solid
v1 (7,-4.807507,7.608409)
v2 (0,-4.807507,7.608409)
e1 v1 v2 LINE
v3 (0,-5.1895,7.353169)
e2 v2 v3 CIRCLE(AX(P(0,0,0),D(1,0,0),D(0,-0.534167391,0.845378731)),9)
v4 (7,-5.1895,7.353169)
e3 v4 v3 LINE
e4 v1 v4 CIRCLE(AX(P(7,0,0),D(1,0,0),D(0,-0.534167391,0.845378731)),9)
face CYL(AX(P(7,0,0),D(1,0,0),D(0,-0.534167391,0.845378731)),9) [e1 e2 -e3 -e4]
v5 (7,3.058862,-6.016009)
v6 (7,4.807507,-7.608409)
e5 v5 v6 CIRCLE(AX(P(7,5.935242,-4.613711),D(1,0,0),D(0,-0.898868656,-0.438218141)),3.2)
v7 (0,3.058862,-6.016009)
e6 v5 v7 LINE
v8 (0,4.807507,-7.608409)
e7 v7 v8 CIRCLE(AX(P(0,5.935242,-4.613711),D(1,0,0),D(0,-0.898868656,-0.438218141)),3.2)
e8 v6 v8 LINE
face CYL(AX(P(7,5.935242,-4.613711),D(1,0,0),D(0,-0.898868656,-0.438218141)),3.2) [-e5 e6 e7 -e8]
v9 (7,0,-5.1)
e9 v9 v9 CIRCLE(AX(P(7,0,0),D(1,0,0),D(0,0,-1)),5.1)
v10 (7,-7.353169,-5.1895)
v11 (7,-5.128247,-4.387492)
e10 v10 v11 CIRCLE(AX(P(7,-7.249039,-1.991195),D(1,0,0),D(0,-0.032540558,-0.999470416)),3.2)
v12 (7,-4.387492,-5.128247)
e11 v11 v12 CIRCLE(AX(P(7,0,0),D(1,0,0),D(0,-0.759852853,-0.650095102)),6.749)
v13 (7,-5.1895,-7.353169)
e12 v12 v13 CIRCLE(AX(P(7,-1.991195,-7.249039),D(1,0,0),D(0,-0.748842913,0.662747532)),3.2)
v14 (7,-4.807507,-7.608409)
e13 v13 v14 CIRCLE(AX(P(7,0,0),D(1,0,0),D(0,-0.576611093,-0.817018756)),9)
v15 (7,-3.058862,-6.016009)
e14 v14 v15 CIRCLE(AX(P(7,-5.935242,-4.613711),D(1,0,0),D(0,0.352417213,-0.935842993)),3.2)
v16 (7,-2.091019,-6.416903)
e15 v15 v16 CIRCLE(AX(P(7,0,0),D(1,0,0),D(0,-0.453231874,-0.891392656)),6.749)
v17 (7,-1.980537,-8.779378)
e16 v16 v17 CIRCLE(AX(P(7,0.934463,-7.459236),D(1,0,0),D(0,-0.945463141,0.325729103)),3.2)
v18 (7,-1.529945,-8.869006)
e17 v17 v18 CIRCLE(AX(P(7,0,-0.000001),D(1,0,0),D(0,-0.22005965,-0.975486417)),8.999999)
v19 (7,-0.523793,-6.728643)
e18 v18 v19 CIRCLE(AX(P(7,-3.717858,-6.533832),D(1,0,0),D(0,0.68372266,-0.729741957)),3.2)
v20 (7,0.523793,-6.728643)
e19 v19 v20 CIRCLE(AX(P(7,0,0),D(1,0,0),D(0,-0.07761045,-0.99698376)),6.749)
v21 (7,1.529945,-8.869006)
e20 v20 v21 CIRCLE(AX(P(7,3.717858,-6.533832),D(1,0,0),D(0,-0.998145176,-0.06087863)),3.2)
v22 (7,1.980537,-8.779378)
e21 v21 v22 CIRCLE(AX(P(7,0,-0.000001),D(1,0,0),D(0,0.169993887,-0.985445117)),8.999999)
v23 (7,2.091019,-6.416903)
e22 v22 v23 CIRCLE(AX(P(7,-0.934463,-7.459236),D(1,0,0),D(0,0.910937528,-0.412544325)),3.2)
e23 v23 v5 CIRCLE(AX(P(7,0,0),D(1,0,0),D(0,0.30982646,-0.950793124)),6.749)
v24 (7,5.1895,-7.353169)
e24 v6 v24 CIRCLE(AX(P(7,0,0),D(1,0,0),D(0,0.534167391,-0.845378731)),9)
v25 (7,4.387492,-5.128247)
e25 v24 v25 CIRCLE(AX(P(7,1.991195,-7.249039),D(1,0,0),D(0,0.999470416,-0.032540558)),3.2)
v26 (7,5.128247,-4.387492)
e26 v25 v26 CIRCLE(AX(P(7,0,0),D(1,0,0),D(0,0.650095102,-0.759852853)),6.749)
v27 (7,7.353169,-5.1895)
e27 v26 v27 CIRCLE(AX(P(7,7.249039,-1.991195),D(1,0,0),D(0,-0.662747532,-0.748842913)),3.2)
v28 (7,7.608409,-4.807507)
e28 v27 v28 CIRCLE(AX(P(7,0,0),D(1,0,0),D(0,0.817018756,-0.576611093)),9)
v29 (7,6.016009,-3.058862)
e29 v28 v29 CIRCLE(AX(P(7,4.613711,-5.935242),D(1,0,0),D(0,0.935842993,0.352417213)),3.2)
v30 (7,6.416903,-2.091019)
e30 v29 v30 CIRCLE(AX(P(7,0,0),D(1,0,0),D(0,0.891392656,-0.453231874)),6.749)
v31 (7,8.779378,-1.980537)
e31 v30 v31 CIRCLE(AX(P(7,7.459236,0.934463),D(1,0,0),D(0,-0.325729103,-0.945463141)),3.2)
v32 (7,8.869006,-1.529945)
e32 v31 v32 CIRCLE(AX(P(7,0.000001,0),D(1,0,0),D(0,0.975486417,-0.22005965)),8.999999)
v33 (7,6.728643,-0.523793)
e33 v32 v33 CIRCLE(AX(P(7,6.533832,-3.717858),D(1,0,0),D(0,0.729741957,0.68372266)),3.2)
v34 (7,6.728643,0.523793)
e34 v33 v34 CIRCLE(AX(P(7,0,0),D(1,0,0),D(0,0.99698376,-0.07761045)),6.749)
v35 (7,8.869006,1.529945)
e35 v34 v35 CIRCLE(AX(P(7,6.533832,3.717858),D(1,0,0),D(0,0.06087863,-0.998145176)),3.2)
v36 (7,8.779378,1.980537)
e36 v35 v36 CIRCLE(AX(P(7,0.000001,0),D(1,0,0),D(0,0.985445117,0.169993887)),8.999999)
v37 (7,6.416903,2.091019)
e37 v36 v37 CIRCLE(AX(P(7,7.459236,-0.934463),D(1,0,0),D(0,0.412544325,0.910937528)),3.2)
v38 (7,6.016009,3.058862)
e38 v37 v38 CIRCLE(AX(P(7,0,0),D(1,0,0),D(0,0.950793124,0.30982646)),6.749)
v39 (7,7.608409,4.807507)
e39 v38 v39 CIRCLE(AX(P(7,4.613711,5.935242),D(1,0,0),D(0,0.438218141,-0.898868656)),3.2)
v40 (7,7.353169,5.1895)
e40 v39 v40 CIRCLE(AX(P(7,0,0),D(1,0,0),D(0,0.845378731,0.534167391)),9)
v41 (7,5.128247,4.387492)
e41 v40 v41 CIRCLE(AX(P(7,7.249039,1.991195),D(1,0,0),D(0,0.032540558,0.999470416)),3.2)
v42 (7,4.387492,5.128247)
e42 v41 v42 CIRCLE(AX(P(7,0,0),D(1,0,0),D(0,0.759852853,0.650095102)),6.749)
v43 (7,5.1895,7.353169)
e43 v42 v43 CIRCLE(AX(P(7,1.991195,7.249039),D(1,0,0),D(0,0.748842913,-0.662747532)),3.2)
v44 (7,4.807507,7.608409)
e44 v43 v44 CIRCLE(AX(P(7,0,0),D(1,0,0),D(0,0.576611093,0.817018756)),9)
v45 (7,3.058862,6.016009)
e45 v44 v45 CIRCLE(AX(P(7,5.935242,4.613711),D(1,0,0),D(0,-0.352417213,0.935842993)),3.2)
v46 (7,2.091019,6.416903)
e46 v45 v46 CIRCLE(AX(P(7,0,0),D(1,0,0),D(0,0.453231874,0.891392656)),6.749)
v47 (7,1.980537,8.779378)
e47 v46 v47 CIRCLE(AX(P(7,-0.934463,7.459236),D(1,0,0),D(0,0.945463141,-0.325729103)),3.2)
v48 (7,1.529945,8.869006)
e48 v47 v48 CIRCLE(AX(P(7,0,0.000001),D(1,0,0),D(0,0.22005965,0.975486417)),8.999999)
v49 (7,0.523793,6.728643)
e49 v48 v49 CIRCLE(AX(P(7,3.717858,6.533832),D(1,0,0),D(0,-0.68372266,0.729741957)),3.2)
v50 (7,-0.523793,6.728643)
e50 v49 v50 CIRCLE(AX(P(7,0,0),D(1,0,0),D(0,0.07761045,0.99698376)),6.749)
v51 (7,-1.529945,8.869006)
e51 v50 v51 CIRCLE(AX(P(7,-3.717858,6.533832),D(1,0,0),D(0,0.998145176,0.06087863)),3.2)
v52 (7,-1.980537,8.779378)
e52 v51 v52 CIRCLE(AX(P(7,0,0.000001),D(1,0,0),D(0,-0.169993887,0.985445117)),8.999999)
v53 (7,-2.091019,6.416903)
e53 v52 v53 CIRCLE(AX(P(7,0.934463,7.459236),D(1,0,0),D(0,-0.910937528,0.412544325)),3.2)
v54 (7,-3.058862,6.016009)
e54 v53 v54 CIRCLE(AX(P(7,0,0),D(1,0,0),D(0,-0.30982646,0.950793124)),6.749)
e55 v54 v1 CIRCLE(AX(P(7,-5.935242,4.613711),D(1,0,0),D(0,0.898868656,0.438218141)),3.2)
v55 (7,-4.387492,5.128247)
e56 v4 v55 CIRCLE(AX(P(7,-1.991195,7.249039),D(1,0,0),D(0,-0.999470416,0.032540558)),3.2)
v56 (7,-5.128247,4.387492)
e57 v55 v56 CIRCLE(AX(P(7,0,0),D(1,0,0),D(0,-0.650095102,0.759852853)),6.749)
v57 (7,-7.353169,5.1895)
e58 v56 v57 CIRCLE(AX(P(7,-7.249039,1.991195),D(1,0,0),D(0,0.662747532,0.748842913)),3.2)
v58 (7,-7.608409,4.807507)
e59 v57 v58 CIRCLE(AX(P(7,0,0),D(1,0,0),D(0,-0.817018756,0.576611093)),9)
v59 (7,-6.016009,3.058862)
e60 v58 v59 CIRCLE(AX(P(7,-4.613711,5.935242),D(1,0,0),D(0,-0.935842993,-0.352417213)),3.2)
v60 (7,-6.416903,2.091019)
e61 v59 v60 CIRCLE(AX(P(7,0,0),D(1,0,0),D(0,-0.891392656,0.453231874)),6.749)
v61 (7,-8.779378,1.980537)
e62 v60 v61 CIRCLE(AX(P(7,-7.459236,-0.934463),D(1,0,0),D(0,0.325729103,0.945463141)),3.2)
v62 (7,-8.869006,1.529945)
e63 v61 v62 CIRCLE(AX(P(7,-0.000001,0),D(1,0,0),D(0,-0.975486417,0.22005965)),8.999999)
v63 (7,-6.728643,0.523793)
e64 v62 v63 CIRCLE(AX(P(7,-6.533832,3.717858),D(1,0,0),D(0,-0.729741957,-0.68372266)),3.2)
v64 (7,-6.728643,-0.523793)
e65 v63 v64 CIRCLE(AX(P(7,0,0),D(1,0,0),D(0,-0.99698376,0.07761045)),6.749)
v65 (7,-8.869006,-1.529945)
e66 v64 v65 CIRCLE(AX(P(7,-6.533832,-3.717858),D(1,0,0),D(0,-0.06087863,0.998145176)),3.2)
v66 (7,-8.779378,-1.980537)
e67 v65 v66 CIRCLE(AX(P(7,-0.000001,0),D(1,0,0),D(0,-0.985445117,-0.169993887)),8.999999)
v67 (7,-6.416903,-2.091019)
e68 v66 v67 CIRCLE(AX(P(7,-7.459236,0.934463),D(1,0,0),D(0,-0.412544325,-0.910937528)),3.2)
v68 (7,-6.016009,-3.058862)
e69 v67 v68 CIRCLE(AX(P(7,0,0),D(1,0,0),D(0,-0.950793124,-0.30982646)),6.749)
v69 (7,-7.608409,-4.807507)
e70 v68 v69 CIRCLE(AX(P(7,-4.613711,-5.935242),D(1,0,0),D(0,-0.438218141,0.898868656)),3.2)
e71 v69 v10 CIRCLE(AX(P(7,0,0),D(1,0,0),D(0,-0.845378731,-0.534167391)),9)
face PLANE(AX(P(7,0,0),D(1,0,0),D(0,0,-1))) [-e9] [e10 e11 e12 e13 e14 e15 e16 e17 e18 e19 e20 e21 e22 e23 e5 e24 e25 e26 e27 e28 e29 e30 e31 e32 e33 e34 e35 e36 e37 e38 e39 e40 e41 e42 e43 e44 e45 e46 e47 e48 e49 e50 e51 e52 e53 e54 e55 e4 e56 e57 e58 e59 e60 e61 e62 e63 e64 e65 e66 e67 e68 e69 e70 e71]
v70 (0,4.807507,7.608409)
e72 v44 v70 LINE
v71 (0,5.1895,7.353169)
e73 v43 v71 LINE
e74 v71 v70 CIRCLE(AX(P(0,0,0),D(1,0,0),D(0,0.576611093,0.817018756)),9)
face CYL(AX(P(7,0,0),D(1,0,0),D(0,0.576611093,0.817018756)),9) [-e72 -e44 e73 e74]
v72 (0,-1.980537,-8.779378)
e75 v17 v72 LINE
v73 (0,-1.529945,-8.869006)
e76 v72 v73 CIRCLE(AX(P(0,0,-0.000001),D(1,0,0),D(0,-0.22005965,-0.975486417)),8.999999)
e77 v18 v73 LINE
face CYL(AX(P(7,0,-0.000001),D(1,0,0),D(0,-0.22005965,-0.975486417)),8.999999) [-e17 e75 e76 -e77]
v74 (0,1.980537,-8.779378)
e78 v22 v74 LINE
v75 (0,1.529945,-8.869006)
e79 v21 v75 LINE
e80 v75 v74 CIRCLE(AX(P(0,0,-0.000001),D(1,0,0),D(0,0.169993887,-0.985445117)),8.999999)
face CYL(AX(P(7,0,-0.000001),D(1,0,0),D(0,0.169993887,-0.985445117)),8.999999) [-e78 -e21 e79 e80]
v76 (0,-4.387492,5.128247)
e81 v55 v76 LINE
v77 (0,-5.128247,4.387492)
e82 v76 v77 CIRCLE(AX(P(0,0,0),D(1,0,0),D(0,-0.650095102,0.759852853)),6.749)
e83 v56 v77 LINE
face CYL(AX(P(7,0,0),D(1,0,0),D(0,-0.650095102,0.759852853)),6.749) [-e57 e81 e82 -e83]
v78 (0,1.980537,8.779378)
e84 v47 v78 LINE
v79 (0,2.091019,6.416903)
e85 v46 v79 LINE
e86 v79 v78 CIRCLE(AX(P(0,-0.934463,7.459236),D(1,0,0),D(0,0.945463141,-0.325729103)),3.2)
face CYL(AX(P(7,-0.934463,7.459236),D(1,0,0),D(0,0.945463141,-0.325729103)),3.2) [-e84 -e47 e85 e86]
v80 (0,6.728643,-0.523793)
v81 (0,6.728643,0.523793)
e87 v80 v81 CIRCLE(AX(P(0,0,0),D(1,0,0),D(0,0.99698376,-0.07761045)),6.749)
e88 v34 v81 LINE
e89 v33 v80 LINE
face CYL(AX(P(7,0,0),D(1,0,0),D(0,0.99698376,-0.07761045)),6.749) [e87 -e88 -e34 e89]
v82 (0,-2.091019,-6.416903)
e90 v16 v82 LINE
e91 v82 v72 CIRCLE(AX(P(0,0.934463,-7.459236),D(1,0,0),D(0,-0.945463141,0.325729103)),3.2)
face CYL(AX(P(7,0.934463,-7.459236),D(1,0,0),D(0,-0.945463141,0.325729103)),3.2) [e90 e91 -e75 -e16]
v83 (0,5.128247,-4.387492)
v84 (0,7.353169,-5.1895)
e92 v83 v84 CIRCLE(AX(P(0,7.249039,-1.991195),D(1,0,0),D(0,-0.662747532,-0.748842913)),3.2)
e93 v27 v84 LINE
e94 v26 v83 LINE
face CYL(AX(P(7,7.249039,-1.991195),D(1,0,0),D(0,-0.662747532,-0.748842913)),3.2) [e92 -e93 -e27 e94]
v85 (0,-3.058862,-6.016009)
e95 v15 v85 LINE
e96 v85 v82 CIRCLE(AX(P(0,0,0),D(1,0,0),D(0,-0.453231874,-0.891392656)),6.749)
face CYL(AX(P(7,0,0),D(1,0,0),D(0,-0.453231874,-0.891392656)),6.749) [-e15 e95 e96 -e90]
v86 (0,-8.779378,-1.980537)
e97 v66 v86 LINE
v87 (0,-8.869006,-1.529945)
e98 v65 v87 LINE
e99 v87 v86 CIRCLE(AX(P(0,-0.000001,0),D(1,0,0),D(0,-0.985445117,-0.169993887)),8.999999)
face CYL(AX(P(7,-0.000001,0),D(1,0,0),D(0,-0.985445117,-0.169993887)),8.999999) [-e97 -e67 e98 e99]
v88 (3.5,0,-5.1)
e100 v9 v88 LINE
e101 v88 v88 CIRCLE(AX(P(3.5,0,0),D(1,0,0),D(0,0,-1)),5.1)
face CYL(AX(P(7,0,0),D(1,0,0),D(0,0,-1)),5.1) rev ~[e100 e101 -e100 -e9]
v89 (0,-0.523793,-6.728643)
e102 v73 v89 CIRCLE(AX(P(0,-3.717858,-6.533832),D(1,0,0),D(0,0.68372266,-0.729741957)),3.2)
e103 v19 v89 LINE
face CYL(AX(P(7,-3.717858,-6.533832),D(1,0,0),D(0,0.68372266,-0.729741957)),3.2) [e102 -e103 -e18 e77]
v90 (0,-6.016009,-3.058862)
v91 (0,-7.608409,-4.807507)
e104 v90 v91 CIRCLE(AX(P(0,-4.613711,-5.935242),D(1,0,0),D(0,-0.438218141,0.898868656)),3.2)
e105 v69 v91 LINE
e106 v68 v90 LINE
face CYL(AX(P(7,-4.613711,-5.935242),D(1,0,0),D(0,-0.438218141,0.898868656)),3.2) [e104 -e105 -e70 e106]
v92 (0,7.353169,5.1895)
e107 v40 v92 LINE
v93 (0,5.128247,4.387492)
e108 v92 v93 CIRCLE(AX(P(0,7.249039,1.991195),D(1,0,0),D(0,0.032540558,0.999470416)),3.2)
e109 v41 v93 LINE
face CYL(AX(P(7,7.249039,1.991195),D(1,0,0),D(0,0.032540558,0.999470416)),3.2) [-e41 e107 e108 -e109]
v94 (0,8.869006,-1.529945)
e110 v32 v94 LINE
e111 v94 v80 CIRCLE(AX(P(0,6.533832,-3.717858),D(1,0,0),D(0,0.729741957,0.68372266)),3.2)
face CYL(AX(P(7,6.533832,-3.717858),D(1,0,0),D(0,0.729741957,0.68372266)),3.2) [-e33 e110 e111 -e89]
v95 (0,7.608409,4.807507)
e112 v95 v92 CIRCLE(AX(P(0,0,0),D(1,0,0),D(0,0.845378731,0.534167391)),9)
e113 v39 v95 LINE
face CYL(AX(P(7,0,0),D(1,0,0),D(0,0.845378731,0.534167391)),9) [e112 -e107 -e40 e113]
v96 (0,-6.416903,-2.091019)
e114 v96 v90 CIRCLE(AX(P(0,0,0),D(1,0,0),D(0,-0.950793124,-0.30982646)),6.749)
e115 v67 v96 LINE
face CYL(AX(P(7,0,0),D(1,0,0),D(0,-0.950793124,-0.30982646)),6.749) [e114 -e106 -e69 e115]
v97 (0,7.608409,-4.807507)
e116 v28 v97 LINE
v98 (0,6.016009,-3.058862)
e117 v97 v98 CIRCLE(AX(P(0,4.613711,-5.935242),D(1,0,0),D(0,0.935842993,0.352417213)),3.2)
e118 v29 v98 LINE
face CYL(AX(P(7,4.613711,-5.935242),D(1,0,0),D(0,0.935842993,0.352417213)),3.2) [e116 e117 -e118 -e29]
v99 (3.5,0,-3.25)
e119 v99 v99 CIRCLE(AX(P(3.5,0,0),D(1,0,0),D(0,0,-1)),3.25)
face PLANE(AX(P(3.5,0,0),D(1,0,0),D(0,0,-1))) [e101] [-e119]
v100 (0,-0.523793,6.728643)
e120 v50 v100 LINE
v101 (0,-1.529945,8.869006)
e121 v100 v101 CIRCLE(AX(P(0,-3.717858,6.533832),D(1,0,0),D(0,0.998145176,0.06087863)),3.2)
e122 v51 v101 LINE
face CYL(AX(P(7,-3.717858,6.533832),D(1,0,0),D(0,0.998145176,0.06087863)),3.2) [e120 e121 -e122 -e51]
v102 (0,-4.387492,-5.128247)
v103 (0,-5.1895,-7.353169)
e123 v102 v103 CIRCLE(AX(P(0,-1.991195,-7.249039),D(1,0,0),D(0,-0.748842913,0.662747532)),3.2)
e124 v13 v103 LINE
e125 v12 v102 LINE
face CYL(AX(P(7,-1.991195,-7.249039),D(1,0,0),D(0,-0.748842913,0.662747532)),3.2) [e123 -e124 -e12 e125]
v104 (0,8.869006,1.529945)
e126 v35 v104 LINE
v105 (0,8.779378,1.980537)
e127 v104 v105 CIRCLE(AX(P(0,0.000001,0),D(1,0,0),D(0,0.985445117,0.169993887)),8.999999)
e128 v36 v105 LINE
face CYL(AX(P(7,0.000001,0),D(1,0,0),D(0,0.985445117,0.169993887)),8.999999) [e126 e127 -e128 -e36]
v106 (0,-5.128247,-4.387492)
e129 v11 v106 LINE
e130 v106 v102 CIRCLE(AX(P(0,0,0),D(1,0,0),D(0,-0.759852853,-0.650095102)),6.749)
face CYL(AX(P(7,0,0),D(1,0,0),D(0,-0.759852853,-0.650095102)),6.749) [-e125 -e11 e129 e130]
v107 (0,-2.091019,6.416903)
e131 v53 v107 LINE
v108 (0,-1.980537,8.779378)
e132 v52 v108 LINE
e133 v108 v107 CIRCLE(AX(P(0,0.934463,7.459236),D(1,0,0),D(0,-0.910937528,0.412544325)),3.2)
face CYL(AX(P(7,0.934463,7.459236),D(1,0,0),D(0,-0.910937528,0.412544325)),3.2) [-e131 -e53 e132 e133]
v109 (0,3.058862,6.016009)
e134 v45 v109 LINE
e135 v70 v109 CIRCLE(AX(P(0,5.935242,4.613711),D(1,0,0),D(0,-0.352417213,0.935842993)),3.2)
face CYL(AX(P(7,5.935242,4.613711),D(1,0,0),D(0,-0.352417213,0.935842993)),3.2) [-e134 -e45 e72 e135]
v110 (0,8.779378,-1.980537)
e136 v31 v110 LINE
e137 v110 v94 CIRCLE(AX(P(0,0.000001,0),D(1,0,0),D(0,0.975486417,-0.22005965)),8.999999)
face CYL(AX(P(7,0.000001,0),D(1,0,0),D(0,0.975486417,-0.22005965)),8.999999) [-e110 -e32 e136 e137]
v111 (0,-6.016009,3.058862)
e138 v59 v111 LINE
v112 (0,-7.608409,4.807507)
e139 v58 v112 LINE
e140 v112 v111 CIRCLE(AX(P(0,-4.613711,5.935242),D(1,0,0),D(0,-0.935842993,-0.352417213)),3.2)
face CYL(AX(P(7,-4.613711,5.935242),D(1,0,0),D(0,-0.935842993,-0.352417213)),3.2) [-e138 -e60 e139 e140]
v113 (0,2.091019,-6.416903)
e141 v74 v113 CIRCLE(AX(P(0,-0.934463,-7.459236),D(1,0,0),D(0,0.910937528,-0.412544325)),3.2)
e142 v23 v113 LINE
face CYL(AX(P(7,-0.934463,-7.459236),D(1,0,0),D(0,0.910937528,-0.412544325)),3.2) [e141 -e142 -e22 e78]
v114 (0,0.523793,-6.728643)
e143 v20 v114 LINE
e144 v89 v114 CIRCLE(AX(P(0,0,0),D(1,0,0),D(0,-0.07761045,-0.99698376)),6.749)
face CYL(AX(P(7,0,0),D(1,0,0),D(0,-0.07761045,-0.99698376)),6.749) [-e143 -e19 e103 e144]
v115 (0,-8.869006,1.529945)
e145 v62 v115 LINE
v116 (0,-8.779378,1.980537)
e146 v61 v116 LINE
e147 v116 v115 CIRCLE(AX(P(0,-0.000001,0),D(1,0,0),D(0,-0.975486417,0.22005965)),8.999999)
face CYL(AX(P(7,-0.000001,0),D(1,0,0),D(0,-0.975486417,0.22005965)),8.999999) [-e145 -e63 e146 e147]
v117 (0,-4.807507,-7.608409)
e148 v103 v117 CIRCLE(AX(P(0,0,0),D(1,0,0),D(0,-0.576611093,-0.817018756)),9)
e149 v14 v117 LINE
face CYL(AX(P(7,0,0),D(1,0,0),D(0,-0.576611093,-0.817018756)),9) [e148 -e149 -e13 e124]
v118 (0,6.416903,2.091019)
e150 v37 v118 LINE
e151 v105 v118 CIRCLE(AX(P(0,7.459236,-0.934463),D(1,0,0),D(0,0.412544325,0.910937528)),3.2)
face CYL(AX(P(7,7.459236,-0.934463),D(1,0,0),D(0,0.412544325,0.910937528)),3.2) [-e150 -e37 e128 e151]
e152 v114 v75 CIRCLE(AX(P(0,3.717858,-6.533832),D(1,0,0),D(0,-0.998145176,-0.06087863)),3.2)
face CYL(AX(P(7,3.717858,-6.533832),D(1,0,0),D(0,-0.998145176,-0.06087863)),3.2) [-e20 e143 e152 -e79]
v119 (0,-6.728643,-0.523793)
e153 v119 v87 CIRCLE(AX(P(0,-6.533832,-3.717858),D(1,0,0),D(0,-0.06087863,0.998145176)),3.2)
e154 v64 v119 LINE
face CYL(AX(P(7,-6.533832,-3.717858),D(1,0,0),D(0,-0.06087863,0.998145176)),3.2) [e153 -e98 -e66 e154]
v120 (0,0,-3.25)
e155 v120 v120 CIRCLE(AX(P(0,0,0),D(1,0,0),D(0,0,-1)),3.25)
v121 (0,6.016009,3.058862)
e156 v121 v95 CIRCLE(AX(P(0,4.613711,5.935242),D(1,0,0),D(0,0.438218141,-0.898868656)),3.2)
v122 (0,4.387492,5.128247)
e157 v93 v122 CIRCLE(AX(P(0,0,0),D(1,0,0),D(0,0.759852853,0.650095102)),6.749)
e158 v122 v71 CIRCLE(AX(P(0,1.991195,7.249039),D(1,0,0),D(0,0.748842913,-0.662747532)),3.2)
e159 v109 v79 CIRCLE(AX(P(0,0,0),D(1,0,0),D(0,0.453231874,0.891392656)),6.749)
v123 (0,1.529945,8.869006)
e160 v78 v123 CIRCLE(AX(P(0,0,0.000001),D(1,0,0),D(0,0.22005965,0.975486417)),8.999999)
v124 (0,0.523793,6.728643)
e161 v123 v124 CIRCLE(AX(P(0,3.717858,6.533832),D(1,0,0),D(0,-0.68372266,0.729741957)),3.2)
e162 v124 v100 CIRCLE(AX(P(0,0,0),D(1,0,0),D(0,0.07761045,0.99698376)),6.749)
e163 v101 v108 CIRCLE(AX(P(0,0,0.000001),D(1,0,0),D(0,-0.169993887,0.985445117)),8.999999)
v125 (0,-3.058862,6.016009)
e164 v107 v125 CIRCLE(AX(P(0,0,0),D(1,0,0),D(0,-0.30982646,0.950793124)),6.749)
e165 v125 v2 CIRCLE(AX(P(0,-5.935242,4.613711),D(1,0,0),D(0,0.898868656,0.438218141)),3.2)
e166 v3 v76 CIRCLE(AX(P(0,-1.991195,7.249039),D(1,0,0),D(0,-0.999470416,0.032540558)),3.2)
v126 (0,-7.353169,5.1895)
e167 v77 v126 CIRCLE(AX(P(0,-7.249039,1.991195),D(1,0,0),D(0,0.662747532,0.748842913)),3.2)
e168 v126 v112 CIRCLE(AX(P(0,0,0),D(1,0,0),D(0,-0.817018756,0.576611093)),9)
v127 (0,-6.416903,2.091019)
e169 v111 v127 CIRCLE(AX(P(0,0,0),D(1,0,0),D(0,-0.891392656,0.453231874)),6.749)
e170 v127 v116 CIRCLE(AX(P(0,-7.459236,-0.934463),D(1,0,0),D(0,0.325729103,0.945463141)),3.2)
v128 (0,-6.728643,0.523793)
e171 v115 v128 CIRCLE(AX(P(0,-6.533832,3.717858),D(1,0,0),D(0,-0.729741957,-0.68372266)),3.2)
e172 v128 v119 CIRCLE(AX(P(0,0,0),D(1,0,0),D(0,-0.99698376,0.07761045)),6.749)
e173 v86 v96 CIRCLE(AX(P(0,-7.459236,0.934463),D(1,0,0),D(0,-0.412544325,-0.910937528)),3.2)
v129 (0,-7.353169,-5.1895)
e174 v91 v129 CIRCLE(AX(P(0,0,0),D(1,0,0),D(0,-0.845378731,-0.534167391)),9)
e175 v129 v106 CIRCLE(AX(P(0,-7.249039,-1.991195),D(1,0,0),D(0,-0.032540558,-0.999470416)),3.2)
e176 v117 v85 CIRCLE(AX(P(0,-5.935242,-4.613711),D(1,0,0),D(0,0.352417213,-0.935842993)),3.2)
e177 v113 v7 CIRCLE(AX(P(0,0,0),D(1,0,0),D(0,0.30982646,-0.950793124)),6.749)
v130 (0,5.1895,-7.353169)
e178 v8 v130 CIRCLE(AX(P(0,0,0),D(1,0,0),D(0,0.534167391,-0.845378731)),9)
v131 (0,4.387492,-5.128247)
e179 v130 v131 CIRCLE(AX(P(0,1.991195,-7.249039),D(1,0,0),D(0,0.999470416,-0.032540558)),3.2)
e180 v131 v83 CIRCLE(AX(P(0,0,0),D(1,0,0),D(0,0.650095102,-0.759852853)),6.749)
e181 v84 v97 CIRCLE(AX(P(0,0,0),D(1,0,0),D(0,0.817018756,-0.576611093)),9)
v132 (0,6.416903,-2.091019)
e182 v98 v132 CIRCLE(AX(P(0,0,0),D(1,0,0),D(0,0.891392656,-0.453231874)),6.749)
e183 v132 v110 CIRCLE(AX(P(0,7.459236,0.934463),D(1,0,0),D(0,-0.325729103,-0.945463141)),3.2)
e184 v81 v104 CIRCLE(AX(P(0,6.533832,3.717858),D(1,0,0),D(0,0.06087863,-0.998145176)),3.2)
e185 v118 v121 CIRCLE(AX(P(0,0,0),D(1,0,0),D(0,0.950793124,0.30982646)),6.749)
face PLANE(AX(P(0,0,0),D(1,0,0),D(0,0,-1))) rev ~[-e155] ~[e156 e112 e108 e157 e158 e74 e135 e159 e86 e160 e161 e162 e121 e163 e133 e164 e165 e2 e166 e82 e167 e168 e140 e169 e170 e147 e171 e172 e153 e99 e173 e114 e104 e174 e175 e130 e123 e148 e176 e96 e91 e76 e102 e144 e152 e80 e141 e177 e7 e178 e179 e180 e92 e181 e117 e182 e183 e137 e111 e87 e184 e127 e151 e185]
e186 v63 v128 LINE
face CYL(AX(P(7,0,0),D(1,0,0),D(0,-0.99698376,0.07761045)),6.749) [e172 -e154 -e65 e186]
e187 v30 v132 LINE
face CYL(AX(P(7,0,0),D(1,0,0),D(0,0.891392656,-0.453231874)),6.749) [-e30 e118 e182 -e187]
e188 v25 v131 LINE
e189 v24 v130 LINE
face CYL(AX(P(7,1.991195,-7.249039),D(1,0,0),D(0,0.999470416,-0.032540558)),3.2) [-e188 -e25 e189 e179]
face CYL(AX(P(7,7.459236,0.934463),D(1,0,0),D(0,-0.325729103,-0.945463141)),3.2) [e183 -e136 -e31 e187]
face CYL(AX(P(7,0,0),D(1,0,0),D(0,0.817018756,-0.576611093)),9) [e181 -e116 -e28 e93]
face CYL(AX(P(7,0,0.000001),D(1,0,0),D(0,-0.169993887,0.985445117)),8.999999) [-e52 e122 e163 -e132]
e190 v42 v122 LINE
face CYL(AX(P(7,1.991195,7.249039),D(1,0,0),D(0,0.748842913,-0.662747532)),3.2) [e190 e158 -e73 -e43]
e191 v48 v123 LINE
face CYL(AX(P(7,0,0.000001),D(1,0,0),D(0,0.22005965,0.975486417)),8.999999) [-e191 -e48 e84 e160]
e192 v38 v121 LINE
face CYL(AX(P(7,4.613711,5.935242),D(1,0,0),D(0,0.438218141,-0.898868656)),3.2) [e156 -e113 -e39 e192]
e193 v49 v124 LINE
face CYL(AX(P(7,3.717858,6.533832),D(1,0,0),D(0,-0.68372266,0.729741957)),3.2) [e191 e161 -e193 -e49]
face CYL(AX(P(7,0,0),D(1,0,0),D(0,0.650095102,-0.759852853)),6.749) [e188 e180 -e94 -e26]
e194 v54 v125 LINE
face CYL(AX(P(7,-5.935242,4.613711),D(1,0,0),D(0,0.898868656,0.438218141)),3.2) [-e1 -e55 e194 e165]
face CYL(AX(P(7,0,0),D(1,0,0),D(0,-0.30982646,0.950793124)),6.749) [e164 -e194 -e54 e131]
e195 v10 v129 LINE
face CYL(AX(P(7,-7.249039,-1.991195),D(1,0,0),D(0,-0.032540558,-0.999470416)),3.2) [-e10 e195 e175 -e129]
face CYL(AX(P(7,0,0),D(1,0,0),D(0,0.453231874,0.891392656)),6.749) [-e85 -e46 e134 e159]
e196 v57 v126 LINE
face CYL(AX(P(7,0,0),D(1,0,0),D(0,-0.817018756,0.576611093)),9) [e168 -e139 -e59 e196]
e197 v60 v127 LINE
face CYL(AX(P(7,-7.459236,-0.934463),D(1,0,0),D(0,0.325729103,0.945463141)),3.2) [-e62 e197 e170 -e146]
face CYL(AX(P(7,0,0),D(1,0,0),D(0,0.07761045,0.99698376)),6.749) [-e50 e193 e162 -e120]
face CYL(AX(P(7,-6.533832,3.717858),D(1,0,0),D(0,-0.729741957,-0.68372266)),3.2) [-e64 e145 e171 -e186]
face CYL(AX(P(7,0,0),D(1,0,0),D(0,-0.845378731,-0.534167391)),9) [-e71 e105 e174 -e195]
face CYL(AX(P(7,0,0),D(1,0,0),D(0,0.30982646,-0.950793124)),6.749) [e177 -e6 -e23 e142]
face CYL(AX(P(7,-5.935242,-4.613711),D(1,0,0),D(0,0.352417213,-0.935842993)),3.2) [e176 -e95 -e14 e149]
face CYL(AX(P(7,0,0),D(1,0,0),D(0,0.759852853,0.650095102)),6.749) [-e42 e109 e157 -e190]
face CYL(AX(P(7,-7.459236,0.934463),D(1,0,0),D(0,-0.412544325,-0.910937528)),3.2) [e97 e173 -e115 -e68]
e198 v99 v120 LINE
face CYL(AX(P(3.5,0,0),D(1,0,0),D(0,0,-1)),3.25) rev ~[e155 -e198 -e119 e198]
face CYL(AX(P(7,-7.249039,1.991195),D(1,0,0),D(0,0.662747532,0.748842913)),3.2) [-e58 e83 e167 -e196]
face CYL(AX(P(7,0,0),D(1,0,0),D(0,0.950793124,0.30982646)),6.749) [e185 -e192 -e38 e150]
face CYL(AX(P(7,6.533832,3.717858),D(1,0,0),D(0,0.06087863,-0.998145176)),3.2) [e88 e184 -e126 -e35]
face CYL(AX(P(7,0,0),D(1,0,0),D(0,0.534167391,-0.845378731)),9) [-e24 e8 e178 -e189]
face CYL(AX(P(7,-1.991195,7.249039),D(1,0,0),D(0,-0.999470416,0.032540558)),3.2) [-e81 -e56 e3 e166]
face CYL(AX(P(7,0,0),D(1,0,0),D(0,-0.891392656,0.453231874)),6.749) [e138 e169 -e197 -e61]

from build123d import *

# Parameters (mm, degrees)
ESQUISSE1_R             = 1.5
BOSS_EXTRU_1_DEPTH      = 7
ESQUISSE2_R             = 5.1
ENL_V_MAT_EXTRU_1_DEPTH = 3.5
ESQUISSE3_R             = 3.25
ENL_V_MAT_EXTRU_2_DEPTH = 4.5


with BuildPart() as part:
    # Esquisse1 → Boss.-Extru.1 (new body)
    with BuildSketch(Plane(origin=(7, 0, 0), x_dir=(0, 0, -1), z_dir=(1, 0, 0))):
        with BuildLine():
            ThreePointArc((-6.728643397, 0.523792937), (-6.749, 0), (-6.728643397, -0.523792937))
            ThreePointArc((-6.728643397, -0.523792937), (-7.89518869, -0.821876255), (-8.869006051, -1.529944991))
            ThreePointArc((-8.869006051, -1.529944991), (-8.827067524, -1.755812898), (-8.779377764, -1.980536814))
            ThreePointArc((-8.779377764, -1.980536814), (-7.608721662, -2.262043257), (-6.416902795, -2.091018776))
            ThreePointArc((-6.416902795, -2.091018776), (-6.235262965, -2.582730485), (-6.016009037, -3.058861924))
            ThreePointArc((-6.016009037, -3.058861924), (-6.97968481, -3.780672557), (-7.608408563, -4.80750654))
            ThreePointArc((-7.608408563, -4.80750654), (-7.483226511, -5.000132097), (-7.353168799, -5.189499843))
            ThreePointArc((-7.353168799, -5.189499843), (-6.163895735, -5.001587189), (-5.128246912, -4.387491836))
            ThreePointArc((-5.128246912, -4.387491836), (-4.772263666, -4.772263666), (-4.387491836, -5.128246912))
            ThreePointArc((-4.387491836, -5.128246912), (-5.001587189, -6.163895735), (-5.189499843, -7.353168799))
            ThreePointArc((-5.189499843, -7.353168799), (-5.000132097, -7.483226511), (-4.80750654, -7.608408563))
            ThreePointArc((-4.80750654, -7.608408563), (-3.780672557, -6.97968481), (-3.058861924, -6.016009037))
            ThreePointArc((-3.058861924, -6.016009037), (-2.582730485, -6.235262965), (-2.091018776, -6.416902795))
            ThreePointArc((-2.091018776, -6.416902795), (-2.262043257, -7.608721662), (-1.980536814, -8.779377764))
            ThreePointArc((-1.980536814, -8.779377764), (-1.755812898, -8.827067524), (-1.529944991, -8.869006051))
            ThreePointArc((-1.529944991, -8.869006051), (-0.821876255, -7.89518869), (-0.523792937, -6.728643397))
            ThreePointArc((-0.523792937, -6.728643397), (0, -6.749), (0.523792937, -6.728643397))
            ThreePointArc((0.523792937, -6.728643397), (0.821876255, -7.89518869), (1.529944991, -8.869006051))
            ThreePointArc((1.529944991, -8.869006051), (1.755812898, -8.827067524), (1.980536814, -8.779377764))
            ThreePointArc((1.980536814, -8.779377764), (2.262043257, -7.608721662), (2.091018776, -6.416902795))
            ThreePointArc((2.091018776, -6.416902795), (2.582730485, -6.235262965), (3.058861924, -6.016009037))
            ThreePointArc((3.058861924, -6.016009037), (3.780672557, -6.97968481), (4.80750654, -7.608408563))
            ThreePointArc((4.80750654, -7.608408563), (5.000132097, -7.483226511), (5.189499843, -7.353168799))
            ThreePointArc((5.189499843, -7.353168799), (5.001587189, -6.163895735), (4.387491836, -5.128246912))
            ThreePointArc((4.387491836, -5.128246912), (4.772263666, -4.772263666), (5.128246912, -4.387491836))
            ThreePointArc((5.128246912, -4.387491836), (6.163895735, -5.001587189), (7.353168799, -5.189499843))
            ThreePointArc((7.353168799, -5.189499843), (7.483226511, -5.000132097), (7.608408563, -4.80750654))
            ThreePointArc((7.608408563, -4.80750654), (6.97968481, -3.780672557), (6.016009037, -3.058861924))
            ThreePointArc((6.016009037, -3.058861924), (6.235262965, -2.582730485), (6.416902795, -2.091018776))
            ThreePointArc((6.416902795, -2.091018776), (7.608721662, -2.262043257), (8.779377764, -1.980536814))
            ThreePointArc((8.779377764, -1.980536814), (8.827067524, -1.755812898), (8.869006051, -1.529944991))
            ThreePointArc((8.869006051, -1.529944991), (7.89518869, -0.821876255), (6.728643397, -0.523792937))
            ThreePointArc((6.728643397, -0.523792937), (6.749, 0), (6.728643397, 0.523792937))
            ThreePointArc((6.728643397, 0.523792937), (7.89518869, 0.821876255), (8.869006051, 1.529944991))
            ThreePointArc((8.869006051, 1.529944991), (8.827067524, 1.755812898), (8.779377764, 1.980536814))
            ThreePointArc((8.779377764, 1.980536814), (7.608721662, 2.262043257), (6.416902795, 2.091018776))
            ThreePointArc((6.416902795, 2.091018776), (6.235262965, 2.582730485), (6.016009037, 3.058861924))
            ThreePointArc((6.016009037, 3.058861924), (6.97968481, 3.780672557), (7.608408563, 4.80750654))
            ThreePointArc((7.608408563, 4.80750654), (7.483226511, 5.000132097), (7.353168799, 5.189499843))
            ThreePointArc((7.353168799, 5.189499843), (6.163895735, 5.001587189), (5.128246912, 4.387491836))
            ThreePointArc((5.128246912, 4.387491836), (4.772263666, 4.772263666), (4.387491836, 5.128246912))
            ThreePointArc((4.387491836, 5.128246912), (5.001587189, 6.163895735), (5.189499843, 7.353168799))
            ThreePointArc((5.189499843, 7.353168799), (5.000132097, 7.483226511), (4.80750654, 7.608408563))
            ThreePointArc((4.80750654, 7.608408563), (3.780672557, 6.97968481), (3.058861924, 6.016009037))
            ThreePointArc((3.058861924, 6.016009037), (2.582730485, 6.235262965), (2.091018776, 6.416902795))
            ThreePointArc((2.091018776, 6.416902795), (2.262043257, 7.608721662), (1.980536814, 8.779377764))
            ThreePointArc((1.980536814, 8.779377764), (1.755812898, 8.827067524), (1.529944991, 8.869006051))
            ThreePointArc((1.529944991, 8.869006051), (0.821876255, 7.89518869), (0.523792937, 6.728643397))
            ThreePointArc((0.523792937, 6.728643397), (0, 6.749), (-0.523792937, 6.728643397))
            ThreePointArc((-0.523792937, 6.728643397), (-0.821876255, 7.89518869), (-1.529944991, 8.869006051))
            ThreePointArc((-1.529944991, 8.869006051), (-1.755812898, 8.827067524), (-1.980536814, 8.779377764))
            ThreePointArc((-1.980536814, 8.779377764), (-2.262043257, 7.608721662), (-2.091018776, 6.416902795))
            ThreePointArc((-2.091018776, 6.416902795), (-2.582730485, 6.235262965), (-3.058861924, 6.016009037))
            ThreePointArc((-3.058861924, 6.016009037), (-3.780672557, 6.97968481), (-4.80750654, 7.608408563))
            ThreePointArc((-4.80750654, 7.608408563), (-5.000132097, 7.483226511), (-5.189499843, 7.353168799))
            ThreePointArc((-5.189499843, 7.353168799), (-5.001587189, 6.163895735), (-4.387491836, 5.128246912))
            ThreePointArc((-4.387491836, 5.128246912), (-4.772263666, 4.772263666), (-5.128246912, 4.387491836))
            ThreePointArc((-5.128246912, 4.387491836), (-6.163895735, 5.001587189), (-7.353168799, 5.189499843))
            ThreePointArc((-7.353168799, 5.189499843), (-7.483226511, 5.000132097), (-7.608408563, 4.80750654))
            ThreePointArc((-7.608408563, 4.80750654), (-6.97968481, 3.780672557), (-6.016009037, 3.058861924))
            ThreePointArc((-6.016009037, 3.058861924), (-6.235262965, 2.582730485), (-6.416902795, 2.091018776))
            ThreePointArc((-6.416902795, 2.091018776), (-7.608721662, 2.262043257), (-8.779377764, 1.980536814))
            ThreePointArc((-8.779377764, 1.980536814), (-8.827067524, 1.755812898), (-8.869006051, 1.529944991))
            ThreePointArc((-8.869006051, 1.529944991), (-7.89518869, 0.821876255), (-6.728643397, 0.523792937))
        make_face()
        Circle(ESQUISSE1_R, mode=Mode.SUBTRACT)
    extrude(amount=-BOSS_EXTRU_1_DEPTH)

    # Esquisse2 → Enlèv. mat.-Extru.1 (cut)
    with BuildSketch(Plane(origin=(7, 0, 0), x_dir=(0, 0, -1), z_dir=(1, 0, 0))):
        Circle(ESQUISSE2_R)
    extrude(amount=-ENL_V_MAT_EXTRU_1_DEPTH, mode=Mode.SUBTRACT)

    # Esquisse3 → Enlèv. mat.-Extru.2 (cut, through all)
    with BuildSketch(Plane(origin=(3.5, 0, 0), x_dir=(0, 0, -1), z_dir=(1, 0, 0))):
        Circle(ESQUISSE3_R)
    extrude(amount=-ENL_V_MAT_EXTRU_2_DEPTH, mode=Mode.SUBTRACT)


solid = part.part
